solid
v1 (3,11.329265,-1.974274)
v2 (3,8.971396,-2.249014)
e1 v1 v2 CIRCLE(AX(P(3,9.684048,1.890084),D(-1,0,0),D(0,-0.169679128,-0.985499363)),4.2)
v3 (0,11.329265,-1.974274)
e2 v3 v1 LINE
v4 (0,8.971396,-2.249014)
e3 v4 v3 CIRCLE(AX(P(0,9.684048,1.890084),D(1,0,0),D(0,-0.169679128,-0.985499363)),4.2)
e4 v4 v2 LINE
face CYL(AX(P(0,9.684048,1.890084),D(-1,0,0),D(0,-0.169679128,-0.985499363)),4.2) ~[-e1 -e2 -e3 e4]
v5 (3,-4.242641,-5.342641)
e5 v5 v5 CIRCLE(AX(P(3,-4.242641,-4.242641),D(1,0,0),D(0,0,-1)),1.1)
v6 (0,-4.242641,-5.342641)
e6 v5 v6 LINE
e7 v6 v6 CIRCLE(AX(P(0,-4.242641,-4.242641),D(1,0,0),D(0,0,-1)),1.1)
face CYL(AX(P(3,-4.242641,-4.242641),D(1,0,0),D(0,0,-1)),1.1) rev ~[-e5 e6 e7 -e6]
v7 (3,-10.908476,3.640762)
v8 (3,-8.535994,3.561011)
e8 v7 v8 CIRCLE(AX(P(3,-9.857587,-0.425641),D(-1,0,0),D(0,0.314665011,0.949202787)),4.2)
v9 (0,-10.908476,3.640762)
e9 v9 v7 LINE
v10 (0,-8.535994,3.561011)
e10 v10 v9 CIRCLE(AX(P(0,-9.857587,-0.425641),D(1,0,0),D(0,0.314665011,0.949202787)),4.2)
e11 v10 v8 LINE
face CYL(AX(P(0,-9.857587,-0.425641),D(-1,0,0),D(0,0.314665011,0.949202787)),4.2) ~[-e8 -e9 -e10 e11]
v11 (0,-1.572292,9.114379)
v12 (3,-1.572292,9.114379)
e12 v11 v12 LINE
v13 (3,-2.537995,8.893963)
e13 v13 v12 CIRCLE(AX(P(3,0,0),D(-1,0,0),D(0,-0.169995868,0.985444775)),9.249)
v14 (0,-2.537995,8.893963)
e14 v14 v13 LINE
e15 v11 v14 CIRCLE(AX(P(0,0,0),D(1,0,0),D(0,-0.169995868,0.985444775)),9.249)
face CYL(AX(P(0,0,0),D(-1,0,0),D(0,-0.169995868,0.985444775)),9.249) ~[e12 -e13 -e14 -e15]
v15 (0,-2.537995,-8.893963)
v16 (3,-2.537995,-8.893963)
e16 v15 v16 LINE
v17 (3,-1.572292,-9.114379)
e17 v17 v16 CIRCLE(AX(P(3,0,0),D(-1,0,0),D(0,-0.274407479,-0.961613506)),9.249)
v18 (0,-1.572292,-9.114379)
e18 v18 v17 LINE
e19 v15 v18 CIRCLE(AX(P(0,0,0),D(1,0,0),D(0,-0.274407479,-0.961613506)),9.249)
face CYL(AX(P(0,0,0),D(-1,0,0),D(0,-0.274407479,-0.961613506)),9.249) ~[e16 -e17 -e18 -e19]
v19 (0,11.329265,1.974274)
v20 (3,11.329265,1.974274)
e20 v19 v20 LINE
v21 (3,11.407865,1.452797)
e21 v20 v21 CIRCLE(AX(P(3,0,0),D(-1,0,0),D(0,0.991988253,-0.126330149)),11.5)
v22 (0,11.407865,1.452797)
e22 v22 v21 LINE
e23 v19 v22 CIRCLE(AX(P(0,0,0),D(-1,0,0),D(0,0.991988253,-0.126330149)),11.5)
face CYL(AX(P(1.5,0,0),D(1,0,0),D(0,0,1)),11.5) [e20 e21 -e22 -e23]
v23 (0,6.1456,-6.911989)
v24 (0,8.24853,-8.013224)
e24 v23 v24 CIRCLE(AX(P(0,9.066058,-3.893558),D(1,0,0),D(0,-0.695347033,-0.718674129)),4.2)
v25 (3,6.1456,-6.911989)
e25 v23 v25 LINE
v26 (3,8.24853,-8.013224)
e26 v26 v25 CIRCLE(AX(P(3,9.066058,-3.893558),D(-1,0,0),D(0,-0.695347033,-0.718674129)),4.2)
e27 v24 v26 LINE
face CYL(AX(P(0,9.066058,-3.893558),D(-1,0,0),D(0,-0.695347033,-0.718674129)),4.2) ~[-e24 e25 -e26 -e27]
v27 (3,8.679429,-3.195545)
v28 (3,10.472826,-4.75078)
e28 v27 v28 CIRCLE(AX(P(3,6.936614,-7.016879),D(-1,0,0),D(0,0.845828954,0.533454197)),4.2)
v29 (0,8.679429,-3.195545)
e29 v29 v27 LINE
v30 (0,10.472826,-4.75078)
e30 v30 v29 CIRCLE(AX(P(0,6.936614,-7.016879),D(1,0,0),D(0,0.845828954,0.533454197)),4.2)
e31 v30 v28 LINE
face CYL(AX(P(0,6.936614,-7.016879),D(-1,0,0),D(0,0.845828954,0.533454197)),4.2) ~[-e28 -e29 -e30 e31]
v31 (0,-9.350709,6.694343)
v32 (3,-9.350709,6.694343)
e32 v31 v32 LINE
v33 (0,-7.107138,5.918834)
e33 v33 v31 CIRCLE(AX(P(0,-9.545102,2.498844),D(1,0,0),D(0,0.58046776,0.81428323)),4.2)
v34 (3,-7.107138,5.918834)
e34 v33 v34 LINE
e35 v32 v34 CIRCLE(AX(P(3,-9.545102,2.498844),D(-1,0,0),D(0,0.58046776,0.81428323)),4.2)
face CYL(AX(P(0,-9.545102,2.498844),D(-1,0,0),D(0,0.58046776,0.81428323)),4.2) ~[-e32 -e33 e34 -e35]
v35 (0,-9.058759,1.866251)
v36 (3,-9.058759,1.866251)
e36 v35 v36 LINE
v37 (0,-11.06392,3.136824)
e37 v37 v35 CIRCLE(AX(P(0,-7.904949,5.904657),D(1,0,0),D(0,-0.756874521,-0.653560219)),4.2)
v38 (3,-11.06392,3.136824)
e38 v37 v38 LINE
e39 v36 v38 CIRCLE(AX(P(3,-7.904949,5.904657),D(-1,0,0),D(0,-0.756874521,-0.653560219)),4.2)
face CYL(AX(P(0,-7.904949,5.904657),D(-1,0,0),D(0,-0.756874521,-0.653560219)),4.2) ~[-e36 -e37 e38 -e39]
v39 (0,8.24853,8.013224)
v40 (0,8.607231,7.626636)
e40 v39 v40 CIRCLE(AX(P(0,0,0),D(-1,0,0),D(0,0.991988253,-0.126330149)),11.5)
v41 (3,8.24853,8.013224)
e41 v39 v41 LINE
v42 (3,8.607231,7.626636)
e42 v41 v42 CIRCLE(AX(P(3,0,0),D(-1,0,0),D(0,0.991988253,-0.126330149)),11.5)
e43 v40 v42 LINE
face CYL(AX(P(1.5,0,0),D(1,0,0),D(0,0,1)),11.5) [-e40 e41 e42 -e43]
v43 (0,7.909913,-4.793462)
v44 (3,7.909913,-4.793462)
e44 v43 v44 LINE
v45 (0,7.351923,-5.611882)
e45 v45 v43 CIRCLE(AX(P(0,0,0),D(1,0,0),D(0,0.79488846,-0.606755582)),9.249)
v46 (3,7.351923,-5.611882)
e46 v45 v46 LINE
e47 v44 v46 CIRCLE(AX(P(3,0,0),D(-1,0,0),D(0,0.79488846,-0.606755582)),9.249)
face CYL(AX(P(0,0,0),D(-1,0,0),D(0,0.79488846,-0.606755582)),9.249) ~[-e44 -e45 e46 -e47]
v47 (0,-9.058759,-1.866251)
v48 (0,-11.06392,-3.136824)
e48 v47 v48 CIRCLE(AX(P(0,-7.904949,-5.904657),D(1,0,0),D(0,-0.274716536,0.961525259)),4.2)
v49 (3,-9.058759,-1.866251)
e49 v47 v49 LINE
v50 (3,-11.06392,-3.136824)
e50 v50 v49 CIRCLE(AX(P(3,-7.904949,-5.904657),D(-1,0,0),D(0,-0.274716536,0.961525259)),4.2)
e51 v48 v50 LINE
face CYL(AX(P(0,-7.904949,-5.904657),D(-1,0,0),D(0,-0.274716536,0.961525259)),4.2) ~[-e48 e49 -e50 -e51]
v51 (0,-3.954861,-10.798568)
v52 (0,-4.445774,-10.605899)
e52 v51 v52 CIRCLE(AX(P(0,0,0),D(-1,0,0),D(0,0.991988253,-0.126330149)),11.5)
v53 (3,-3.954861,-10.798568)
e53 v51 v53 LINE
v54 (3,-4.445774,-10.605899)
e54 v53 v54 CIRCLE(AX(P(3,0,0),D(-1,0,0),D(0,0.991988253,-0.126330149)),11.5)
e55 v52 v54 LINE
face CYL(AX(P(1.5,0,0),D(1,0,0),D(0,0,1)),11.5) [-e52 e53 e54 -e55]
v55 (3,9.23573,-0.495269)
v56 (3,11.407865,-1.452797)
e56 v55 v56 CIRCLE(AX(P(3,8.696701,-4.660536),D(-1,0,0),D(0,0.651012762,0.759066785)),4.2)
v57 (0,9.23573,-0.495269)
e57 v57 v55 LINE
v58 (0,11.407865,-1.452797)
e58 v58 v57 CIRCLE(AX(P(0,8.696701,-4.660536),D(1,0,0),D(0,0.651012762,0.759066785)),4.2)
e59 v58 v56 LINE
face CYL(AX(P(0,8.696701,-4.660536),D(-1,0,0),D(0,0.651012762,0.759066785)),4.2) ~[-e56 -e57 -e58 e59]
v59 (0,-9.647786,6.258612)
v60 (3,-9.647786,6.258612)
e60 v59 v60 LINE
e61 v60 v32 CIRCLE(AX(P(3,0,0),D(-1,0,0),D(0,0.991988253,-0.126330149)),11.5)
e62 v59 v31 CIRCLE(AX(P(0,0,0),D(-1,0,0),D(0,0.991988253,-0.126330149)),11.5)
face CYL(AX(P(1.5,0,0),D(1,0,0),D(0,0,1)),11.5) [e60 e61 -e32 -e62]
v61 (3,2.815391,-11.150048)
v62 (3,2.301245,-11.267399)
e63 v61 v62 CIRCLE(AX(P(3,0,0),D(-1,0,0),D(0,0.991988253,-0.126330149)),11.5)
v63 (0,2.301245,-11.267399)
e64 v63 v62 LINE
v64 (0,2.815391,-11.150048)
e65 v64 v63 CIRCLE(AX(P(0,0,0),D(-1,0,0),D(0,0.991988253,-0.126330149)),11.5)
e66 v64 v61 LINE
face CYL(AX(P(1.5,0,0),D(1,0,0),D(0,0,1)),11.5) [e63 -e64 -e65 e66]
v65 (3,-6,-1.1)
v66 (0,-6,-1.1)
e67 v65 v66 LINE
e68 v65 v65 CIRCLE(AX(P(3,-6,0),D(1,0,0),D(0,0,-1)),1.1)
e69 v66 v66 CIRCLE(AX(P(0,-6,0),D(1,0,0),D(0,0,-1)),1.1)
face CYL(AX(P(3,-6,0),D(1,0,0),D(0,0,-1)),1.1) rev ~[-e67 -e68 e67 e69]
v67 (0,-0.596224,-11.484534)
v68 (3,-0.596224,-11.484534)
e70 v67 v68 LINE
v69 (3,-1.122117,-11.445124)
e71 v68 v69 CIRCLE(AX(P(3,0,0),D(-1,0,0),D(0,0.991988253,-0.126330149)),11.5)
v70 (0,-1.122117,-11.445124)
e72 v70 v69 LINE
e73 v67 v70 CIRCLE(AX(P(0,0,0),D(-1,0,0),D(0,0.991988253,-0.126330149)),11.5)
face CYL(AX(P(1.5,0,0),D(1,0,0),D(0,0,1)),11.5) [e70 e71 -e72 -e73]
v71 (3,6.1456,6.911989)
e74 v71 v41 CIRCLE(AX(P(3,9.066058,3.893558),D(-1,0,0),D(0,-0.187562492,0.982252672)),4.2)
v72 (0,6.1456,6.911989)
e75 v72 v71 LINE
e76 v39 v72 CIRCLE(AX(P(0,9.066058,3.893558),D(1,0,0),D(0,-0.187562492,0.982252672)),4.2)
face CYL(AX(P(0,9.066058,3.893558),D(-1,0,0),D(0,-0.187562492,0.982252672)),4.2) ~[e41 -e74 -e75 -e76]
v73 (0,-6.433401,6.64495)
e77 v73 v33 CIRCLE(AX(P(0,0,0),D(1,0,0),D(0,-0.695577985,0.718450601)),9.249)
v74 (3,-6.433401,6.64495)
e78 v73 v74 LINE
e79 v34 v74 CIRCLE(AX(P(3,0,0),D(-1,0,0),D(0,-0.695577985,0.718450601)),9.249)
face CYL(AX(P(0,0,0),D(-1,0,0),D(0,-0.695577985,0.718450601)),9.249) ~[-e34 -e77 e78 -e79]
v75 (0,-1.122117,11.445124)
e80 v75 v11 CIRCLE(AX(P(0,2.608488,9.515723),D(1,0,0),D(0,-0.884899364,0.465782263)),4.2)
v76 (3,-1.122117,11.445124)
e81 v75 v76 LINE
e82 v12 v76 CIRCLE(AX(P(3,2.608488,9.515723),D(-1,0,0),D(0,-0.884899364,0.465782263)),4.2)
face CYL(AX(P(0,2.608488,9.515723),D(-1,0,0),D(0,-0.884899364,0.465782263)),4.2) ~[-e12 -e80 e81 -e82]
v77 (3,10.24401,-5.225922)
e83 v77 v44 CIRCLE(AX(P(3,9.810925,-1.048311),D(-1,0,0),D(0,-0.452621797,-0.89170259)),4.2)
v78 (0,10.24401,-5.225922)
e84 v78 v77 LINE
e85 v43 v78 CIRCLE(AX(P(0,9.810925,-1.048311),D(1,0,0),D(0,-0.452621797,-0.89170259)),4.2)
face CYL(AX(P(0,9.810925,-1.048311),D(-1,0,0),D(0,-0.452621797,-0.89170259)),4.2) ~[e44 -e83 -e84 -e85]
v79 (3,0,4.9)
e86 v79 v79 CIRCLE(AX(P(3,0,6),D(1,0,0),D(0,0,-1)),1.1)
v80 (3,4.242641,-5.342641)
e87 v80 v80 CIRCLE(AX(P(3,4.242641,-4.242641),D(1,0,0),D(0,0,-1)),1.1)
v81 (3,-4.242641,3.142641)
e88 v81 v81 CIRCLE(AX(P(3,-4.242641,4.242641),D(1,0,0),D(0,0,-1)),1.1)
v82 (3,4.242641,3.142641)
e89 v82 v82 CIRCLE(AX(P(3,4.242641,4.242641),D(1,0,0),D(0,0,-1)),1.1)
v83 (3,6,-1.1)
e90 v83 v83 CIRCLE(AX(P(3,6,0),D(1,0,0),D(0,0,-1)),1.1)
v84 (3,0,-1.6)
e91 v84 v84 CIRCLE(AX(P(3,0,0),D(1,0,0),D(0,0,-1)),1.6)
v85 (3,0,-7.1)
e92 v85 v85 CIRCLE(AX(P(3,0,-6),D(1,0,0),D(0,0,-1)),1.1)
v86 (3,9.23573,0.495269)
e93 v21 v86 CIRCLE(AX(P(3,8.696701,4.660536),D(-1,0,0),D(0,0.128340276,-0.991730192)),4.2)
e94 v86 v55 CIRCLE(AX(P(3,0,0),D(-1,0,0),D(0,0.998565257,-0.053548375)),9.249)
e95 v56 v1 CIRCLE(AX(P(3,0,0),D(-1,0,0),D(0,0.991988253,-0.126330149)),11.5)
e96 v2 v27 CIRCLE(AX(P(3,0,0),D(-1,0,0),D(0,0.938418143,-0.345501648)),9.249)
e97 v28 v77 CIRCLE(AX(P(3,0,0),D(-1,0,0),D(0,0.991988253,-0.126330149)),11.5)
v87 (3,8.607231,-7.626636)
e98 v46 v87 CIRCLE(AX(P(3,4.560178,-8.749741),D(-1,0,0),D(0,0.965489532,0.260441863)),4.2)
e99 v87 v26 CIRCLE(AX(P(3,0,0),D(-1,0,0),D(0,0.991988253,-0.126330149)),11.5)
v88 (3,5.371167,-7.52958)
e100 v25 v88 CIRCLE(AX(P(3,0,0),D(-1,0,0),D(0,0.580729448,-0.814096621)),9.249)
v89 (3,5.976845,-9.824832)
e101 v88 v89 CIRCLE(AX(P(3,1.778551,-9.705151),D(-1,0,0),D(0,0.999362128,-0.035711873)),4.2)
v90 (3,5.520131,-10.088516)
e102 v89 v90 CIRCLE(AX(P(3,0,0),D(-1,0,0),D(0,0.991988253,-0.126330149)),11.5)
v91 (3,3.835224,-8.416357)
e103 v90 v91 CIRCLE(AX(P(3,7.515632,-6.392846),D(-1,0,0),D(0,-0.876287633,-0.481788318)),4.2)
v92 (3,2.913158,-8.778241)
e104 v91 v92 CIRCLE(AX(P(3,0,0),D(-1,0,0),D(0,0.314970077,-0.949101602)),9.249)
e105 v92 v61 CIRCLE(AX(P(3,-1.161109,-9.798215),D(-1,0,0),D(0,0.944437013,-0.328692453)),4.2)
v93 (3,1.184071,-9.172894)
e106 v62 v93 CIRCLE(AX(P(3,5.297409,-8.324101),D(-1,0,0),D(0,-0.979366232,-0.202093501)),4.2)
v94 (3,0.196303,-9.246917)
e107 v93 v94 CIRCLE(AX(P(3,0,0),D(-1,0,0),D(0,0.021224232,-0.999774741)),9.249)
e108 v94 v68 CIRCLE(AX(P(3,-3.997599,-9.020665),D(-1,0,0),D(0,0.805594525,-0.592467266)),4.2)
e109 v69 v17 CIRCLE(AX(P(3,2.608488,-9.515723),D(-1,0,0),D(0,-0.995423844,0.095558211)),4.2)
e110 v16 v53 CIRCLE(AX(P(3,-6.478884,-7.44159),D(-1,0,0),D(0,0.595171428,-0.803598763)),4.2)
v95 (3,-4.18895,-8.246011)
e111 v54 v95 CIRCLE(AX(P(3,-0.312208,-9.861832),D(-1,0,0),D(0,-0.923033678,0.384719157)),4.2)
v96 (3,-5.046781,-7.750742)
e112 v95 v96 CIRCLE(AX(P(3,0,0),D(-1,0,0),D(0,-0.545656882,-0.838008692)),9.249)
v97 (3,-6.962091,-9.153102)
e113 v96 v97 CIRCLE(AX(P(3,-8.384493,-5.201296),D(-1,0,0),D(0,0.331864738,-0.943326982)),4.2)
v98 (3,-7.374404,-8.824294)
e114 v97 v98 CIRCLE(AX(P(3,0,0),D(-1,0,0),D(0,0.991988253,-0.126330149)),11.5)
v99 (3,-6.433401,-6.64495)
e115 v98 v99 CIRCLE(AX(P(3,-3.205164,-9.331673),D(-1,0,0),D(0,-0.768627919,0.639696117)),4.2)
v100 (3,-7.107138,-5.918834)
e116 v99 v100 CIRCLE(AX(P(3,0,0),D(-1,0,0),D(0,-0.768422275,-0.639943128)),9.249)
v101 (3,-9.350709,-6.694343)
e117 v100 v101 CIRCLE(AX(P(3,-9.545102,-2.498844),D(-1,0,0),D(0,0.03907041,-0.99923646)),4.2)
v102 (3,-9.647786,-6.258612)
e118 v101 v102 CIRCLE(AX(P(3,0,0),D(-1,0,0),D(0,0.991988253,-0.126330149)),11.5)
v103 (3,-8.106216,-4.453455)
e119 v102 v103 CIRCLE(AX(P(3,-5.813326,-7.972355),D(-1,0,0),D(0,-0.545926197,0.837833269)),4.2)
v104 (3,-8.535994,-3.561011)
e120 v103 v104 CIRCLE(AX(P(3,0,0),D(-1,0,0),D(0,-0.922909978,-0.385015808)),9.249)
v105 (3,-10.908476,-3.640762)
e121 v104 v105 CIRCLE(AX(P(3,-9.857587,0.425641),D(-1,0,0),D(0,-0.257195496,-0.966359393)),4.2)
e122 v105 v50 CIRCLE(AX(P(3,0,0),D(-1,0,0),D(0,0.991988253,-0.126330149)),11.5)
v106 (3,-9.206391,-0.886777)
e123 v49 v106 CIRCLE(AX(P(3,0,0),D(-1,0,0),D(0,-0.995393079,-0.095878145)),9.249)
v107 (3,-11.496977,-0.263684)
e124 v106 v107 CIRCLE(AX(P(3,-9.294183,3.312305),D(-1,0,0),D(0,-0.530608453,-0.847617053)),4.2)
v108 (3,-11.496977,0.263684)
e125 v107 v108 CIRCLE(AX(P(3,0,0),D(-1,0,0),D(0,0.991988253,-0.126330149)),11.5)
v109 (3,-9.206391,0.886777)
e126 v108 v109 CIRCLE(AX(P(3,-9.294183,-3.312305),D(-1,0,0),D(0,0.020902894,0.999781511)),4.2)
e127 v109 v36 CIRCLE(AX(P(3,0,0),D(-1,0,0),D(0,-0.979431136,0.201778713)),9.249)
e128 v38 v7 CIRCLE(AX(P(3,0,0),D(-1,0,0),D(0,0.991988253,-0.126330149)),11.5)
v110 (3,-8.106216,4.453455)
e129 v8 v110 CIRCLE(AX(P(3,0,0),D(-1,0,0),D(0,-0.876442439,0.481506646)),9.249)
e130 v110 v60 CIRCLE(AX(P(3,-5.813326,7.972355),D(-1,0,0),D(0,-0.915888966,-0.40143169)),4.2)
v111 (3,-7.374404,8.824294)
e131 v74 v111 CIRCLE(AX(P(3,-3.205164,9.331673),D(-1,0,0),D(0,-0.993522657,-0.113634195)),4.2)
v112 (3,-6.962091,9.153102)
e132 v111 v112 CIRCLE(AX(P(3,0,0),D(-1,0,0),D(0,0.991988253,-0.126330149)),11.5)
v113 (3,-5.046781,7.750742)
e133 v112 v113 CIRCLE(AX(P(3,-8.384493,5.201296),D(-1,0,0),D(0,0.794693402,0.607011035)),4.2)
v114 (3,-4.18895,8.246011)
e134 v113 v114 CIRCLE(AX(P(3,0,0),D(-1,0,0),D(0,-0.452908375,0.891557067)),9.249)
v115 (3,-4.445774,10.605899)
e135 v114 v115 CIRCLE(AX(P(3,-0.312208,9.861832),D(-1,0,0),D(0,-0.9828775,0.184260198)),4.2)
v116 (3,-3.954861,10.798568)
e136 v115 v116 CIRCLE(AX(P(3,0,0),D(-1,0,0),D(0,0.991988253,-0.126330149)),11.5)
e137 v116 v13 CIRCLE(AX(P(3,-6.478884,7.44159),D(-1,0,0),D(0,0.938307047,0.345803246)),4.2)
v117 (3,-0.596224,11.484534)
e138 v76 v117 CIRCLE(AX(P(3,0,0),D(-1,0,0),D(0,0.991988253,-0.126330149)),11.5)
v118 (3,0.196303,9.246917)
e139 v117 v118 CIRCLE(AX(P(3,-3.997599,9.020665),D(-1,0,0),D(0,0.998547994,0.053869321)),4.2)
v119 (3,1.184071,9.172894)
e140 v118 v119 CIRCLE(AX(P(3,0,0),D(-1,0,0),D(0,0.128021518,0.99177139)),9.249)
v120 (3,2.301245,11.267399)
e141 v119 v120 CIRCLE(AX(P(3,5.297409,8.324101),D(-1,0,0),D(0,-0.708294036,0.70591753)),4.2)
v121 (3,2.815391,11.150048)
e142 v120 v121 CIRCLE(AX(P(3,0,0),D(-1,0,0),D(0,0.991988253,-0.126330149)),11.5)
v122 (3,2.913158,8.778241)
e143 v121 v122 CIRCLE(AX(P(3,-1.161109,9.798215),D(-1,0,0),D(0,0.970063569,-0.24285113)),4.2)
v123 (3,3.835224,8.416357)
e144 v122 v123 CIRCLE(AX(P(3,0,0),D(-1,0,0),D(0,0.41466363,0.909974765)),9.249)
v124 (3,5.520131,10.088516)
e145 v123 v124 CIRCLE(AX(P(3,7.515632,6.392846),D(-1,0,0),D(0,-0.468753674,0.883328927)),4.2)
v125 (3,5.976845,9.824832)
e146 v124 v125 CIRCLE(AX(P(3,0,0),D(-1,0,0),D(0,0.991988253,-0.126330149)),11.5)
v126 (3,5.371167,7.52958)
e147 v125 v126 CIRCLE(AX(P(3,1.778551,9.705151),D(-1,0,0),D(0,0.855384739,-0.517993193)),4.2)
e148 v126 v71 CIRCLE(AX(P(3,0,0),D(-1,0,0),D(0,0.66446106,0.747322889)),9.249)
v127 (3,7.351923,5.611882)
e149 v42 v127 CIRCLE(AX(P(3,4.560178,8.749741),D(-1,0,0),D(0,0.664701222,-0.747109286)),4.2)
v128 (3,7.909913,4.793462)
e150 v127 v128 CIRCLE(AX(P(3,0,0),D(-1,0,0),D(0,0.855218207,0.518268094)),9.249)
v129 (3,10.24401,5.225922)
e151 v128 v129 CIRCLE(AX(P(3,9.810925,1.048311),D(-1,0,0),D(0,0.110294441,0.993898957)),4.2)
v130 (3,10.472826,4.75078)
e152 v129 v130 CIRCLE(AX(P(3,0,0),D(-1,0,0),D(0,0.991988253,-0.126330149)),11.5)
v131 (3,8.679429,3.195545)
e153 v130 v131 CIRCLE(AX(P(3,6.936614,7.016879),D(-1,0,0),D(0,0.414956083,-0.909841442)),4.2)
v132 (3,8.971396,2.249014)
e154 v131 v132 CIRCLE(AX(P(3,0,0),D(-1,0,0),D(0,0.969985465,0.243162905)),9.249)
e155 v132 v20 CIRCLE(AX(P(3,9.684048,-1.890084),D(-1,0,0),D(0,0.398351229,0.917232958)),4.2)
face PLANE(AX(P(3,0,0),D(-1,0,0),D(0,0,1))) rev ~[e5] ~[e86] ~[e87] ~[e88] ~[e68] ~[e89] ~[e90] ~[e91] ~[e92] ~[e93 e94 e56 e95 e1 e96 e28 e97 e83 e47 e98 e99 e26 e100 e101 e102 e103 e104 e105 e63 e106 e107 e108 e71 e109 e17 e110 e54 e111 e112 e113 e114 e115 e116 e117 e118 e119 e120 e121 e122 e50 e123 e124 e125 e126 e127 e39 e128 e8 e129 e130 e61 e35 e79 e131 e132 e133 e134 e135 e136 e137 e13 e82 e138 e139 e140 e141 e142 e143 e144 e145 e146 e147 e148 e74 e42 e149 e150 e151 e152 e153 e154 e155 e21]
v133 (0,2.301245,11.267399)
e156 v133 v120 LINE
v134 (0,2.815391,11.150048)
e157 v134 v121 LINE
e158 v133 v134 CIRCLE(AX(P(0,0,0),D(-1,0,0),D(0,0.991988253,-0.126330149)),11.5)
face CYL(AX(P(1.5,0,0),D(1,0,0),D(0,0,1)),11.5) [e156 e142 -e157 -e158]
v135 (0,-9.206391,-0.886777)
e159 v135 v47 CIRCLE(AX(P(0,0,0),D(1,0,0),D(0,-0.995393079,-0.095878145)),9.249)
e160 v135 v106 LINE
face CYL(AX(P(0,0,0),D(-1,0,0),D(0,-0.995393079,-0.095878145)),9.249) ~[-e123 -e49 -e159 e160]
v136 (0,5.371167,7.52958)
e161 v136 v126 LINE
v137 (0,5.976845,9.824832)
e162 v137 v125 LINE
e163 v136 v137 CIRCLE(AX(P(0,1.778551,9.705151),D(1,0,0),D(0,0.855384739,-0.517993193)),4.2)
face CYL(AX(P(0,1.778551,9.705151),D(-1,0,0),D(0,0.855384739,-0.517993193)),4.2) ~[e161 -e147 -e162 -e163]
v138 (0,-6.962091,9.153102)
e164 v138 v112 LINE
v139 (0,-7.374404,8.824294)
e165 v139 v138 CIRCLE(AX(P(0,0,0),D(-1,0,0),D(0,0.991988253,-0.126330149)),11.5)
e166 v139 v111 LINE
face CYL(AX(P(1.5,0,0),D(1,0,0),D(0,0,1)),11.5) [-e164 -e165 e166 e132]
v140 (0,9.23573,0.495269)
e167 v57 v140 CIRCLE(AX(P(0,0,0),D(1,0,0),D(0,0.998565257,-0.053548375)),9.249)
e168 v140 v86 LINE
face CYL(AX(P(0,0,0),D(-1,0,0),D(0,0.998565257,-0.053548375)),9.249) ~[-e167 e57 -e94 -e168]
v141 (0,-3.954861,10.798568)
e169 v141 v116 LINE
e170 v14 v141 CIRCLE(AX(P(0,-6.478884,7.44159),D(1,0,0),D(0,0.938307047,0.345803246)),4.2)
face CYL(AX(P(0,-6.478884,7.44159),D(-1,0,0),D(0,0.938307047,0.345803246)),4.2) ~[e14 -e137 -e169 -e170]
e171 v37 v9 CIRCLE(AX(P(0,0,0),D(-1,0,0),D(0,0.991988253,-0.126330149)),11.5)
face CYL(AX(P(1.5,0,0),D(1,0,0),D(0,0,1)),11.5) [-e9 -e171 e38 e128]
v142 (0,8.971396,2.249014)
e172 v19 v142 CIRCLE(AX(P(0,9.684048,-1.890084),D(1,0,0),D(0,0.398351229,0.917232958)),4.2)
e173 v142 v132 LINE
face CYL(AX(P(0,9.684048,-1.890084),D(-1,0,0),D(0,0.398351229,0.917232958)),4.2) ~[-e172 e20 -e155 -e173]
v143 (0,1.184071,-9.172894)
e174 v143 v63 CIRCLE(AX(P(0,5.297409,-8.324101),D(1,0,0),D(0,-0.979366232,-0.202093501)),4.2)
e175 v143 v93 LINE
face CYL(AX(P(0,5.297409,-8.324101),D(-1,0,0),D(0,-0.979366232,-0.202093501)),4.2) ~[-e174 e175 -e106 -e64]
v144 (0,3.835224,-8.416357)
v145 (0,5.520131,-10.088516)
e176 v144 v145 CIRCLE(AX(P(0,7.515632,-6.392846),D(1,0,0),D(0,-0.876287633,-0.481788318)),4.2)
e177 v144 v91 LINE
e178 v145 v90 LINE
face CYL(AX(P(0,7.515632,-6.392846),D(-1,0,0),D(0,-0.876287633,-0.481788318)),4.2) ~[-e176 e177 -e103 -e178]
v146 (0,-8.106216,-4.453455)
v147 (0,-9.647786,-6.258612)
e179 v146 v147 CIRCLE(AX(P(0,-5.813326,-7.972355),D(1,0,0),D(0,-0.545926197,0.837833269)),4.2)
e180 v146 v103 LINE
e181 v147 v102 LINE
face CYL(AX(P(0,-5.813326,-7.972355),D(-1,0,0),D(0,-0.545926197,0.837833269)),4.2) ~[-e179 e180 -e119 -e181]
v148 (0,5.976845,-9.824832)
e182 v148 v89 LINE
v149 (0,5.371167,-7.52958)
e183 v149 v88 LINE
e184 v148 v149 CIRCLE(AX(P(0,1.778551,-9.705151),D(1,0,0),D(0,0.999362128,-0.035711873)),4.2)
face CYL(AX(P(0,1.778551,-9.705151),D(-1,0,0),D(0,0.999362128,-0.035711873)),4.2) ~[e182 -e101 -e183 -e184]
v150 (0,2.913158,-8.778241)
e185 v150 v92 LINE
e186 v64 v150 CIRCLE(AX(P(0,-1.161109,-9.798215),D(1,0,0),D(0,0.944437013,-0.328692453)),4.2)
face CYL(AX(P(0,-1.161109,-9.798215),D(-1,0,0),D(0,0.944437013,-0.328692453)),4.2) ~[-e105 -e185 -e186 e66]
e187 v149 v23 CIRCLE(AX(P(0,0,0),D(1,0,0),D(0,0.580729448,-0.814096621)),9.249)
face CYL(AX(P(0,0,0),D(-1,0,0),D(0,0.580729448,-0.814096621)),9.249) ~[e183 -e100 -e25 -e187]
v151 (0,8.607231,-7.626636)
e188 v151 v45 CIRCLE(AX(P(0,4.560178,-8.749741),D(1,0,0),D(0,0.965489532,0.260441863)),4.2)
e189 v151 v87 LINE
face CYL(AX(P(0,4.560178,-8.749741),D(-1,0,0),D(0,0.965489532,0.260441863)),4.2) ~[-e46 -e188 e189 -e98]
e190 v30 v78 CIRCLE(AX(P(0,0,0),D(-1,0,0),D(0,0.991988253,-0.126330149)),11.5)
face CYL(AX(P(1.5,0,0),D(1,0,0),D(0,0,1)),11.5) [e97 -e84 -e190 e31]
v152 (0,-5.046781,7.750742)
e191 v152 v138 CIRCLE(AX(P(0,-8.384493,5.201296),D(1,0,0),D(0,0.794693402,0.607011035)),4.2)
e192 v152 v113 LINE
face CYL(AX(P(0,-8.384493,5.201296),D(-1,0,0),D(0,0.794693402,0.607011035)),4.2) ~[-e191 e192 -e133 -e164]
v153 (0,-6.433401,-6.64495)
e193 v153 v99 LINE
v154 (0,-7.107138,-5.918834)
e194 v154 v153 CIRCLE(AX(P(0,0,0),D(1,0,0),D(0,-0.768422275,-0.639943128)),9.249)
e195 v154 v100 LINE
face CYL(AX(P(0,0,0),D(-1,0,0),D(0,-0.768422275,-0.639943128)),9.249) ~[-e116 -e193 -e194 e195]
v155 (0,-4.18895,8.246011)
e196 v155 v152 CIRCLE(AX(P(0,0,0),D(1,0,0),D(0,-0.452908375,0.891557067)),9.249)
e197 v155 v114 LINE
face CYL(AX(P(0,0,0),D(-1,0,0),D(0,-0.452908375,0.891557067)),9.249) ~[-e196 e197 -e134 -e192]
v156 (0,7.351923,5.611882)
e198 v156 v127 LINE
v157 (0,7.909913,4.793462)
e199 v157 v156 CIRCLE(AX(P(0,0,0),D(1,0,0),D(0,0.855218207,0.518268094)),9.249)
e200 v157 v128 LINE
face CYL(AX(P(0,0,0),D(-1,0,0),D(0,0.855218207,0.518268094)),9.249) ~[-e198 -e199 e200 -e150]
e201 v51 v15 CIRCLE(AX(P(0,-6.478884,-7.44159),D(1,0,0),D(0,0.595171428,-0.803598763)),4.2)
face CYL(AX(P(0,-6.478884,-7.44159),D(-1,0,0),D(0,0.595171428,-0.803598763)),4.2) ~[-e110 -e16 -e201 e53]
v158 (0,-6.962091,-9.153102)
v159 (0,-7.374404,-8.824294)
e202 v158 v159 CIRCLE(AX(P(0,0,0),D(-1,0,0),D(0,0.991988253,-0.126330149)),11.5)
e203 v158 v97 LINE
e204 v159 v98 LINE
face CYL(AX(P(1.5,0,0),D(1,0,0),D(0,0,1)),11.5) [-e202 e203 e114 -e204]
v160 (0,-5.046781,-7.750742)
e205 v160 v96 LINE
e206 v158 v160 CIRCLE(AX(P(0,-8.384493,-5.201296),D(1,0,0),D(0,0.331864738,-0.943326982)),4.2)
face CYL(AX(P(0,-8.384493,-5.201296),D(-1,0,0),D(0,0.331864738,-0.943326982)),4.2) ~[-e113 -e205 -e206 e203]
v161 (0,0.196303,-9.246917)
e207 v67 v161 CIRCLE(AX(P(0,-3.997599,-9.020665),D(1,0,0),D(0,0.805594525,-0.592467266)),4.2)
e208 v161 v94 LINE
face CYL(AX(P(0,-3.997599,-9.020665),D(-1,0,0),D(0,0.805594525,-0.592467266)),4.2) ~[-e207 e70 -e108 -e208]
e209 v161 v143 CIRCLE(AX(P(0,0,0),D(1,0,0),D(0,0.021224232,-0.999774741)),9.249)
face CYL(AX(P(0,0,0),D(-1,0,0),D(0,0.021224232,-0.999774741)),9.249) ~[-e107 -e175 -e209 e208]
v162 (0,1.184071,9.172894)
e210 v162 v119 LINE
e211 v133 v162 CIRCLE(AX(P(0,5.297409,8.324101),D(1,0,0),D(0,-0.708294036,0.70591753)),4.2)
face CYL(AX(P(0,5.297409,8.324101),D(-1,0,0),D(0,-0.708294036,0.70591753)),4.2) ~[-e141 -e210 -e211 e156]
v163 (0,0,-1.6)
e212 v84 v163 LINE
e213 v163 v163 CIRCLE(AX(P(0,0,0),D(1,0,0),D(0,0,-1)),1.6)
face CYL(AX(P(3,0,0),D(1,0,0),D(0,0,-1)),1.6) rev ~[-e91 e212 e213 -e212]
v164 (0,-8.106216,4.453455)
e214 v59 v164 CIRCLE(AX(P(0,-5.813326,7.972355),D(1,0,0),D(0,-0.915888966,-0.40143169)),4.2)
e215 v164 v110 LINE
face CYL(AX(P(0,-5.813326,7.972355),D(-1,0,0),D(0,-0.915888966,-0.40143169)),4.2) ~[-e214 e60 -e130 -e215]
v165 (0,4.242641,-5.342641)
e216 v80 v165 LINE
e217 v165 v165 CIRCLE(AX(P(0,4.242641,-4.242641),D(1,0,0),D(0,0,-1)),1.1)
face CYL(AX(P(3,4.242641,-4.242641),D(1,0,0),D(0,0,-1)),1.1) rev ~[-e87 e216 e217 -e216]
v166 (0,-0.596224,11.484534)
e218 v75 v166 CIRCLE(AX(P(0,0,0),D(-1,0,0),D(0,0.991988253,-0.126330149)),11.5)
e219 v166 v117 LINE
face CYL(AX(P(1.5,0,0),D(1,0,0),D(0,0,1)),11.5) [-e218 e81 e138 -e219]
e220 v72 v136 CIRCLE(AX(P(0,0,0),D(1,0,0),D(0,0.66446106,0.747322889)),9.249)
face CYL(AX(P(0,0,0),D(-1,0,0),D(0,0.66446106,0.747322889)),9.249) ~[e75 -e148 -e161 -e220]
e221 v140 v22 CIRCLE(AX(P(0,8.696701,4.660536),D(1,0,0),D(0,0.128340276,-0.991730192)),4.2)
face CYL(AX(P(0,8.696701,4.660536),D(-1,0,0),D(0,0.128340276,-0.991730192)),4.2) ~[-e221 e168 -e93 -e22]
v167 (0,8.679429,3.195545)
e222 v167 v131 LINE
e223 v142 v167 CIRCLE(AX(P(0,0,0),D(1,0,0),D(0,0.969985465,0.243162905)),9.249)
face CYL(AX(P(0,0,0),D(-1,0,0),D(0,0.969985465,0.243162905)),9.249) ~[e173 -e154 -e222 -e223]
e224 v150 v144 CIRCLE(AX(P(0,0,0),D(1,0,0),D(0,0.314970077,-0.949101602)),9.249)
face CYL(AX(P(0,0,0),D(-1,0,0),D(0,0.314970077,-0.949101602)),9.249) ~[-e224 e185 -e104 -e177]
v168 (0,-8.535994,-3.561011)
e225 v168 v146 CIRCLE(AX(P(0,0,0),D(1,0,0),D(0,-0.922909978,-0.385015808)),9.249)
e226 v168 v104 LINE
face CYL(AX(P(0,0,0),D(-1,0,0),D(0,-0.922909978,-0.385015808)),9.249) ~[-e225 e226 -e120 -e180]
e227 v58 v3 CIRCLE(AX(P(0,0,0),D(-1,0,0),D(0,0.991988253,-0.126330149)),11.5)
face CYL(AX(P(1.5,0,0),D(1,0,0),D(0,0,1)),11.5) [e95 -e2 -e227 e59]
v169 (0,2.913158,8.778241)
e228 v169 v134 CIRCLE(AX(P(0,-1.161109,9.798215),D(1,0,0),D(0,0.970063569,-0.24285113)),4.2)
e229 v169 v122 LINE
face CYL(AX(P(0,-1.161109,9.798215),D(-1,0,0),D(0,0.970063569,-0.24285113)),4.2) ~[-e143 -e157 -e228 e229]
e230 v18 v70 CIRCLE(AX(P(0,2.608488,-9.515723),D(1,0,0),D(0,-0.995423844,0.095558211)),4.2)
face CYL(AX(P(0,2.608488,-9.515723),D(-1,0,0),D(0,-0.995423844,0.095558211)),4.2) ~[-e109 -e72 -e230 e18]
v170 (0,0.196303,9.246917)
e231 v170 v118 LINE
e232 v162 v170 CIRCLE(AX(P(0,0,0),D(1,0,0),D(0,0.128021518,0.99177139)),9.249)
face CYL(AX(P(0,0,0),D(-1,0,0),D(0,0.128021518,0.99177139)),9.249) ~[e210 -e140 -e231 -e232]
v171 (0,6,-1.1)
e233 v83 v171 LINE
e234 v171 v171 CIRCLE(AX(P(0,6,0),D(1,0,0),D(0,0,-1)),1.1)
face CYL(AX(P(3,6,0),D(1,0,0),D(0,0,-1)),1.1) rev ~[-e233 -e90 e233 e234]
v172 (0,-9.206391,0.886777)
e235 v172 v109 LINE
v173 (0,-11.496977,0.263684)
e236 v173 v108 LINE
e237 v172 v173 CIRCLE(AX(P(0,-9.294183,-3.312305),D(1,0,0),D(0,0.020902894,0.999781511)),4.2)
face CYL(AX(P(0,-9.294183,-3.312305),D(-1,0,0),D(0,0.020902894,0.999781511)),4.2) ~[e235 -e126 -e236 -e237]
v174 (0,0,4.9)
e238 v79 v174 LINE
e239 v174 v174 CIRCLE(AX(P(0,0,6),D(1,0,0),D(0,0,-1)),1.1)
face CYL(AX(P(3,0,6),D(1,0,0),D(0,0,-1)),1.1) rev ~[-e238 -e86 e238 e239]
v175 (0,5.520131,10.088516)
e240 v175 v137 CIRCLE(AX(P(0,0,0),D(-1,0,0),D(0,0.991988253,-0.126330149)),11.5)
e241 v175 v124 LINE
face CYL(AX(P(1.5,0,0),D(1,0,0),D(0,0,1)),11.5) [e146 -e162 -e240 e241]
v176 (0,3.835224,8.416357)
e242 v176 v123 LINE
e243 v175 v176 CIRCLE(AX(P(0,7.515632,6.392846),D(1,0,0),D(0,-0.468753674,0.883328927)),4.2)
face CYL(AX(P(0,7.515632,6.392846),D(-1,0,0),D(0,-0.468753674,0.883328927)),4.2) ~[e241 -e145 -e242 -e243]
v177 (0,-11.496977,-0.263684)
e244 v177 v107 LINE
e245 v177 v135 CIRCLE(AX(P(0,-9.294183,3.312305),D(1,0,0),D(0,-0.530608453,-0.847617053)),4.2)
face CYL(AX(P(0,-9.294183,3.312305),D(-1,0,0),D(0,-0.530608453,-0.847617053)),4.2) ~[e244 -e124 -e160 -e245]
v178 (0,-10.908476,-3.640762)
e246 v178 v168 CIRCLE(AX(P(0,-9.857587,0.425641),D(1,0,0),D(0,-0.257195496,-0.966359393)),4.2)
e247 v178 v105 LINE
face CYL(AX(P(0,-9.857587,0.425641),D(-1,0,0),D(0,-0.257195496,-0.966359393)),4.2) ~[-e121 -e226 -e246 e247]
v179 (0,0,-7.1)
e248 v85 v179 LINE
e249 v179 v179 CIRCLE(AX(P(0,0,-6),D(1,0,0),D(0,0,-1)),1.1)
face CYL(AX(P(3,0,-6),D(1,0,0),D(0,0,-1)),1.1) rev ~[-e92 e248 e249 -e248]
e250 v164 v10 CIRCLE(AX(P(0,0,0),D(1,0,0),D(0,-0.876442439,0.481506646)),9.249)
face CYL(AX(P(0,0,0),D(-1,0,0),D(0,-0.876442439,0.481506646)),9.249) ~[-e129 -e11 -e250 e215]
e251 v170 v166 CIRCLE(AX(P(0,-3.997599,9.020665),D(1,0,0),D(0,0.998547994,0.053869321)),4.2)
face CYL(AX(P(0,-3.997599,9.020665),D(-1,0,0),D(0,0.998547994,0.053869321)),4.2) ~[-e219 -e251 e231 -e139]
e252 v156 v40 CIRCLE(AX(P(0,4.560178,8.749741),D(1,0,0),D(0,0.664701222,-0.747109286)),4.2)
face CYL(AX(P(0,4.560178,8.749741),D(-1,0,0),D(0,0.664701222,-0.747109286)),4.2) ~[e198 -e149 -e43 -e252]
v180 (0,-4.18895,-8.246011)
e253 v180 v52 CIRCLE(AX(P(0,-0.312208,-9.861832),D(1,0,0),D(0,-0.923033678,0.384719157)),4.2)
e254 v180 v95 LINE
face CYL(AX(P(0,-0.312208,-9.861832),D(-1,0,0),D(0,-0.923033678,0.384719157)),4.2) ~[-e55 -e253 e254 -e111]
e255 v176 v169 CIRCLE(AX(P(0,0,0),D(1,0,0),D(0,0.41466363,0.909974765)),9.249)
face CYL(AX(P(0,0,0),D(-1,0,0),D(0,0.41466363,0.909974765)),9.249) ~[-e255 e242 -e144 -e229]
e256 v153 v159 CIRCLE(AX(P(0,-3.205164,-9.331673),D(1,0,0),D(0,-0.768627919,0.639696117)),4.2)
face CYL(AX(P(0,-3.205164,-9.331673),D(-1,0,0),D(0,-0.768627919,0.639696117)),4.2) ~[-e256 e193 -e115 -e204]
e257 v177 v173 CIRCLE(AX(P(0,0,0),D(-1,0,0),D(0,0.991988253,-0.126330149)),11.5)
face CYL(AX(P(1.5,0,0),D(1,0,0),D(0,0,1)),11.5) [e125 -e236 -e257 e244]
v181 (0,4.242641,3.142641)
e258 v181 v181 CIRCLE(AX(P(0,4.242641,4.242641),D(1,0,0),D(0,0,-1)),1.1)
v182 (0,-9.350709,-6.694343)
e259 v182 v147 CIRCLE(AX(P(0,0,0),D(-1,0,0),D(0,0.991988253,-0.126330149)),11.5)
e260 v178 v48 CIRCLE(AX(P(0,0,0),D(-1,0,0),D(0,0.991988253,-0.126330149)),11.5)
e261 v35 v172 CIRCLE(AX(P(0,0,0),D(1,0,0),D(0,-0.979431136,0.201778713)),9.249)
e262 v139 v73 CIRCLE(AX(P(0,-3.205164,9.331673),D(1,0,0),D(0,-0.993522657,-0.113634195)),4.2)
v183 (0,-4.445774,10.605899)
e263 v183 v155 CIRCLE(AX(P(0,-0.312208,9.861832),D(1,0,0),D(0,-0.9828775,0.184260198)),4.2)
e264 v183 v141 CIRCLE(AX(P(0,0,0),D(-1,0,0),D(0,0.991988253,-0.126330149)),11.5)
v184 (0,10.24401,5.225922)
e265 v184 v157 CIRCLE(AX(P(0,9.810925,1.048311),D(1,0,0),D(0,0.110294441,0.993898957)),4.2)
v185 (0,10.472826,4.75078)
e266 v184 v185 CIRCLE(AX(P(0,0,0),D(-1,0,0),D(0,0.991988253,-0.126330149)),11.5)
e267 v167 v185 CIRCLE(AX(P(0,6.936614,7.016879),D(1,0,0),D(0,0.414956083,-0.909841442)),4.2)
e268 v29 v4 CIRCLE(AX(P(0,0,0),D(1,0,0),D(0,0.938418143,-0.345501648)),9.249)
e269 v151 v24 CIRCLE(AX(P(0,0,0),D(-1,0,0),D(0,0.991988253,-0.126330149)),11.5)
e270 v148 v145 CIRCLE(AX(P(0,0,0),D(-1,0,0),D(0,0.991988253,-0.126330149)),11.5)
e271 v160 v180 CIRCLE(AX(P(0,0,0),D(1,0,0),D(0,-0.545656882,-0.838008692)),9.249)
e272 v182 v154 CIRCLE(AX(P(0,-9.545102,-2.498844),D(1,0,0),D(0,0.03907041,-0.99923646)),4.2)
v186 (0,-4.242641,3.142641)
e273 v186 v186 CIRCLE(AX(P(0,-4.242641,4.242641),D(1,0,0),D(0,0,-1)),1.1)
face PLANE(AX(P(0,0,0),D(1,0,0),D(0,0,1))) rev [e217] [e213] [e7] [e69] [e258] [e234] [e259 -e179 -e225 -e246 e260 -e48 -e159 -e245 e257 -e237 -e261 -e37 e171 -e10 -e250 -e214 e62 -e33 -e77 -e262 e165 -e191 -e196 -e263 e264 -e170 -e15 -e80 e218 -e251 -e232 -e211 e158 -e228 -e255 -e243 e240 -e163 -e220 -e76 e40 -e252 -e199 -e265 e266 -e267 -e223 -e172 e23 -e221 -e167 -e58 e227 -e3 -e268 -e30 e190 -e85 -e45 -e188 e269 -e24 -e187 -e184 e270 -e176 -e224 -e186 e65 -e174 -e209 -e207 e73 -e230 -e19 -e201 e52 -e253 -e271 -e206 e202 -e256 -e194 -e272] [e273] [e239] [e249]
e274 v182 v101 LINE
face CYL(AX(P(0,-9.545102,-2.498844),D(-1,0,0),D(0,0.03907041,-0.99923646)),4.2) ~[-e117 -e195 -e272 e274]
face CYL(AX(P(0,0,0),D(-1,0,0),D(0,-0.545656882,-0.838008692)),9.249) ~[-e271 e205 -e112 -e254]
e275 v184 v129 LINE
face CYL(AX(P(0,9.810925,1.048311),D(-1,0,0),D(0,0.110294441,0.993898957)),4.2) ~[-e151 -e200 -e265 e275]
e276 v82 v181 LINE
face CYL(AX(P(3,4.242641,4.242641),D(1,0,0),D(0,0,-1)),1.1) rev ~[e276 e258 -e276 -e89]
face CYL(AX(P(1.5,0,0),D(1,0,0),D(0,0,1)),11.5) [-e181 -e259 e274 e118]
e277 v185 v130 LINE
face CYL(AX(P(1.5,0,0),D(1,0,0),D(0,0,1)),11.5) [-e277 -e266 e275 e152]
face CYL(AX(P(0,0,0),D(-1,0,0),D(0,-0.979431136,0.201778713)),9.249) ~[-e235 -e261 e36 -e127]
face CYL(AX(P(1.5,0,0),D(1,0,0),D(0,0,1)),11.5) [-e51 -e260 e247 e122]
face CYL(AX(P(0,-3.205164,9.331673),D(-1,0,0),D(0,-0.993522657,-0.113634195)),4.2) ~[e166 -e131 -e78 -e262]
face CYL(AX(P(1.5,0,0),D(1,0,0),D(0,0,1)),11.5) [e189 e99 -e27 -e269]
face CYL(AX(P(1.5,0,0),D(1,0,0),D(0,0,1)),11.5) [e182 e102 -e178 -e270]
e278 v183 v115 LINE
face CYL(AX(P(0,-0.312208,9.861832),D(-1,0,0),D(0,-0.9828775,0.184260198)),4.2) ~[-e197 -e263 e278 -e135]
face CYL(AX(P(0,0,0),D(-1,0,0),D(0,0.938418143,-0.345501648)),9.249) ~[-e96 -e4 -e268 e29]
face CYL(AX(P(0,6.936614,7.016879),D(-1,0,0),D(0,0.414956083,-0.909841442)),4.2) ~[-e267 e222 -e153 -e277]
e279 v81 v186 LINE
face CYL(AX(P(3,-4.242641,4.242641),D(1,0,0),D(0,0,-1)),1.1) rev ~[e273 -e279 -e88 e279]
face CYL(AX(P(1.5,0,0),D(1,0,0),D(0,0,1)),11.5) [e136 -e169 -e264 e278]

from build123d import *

# Parameters (mm, degrees)
BASPROSKE_W         = 3
BASPROSKE_H         = 11.5
TOOTHCUT_DEPTH      = 17.537835409
TEETHCUTS_COUNT     = 21
TEETHCUTS_ANGLE     = 342.857142857
BORSKE_R            = 4
BORE_DEPTH          = 50.0000508
EXTRUDE_START       = -3
SKETCH_1_R          = 4
EXTRUDE_1_DEPTH     = 3
SKETCH_2_R          = 1.6
SKETCH_2_R_2        = 1.1
CUT_EXTRUDE_1_DEPTH = 17.52708436


with BuildPart() as part:
    # BasProSke → Base-Revolve (revolve)
    with BuildSketch(Plane(origin=(0, 0, 0), x_dir=(1, 0, 0), z_dir=(0, 1, 0)), mode=Mode.PRIVATE) as base_revolve_sk:
        with Locations((1.5, 5.75)):
            Rectangle(BASPROSKE_W, BASPROSKE_H)
    revolve(base_revolve_sk.sketch.rotate(Axis((-10, 0, 0), (1, 0, 0)), 180), axis=Axis((-10, 0, 0), (1, 0, 0)))

    # TooCutSke → ToothCut (cut, through all)
    with BuildSketch(Plane(origin=(0, 0, 0), x_dir=(0, 0, -1), z_dir=(1, 0, 0))):
        with BuildLine():
            ThreePointArc((0.49526894, 9.235730057), (0, 9.249), (-0.49526894, 9.235730057))
            ThreePointArc((-0.49526894, 9.235730057), (-0.823521057, 10.404716786), (-1.472455249, 11.430954496))
            ThreePointArc((-1.472455249, 11.430954496), (0, 11.5254), (1.472455249, 11.430954496))
            ThreePointArc((1.472455249, 11.430954496), (0.823521057, 10.404716786), (0.49526894, 9.235730057))
        make_face()
    toothcut = extrude(amount=TOOTHCUT_DEPTH, mode=Mode.SUBTRACT)

    # TeethCuts: ToothCut ×21 about axis
    teethcuts_axis = Axis((-10, 0, 0), (1, 0, 0))
    for i in range(1, TEETHCUTS_COUNT):
        add(toothcut.rotate(teethcuts_axis, i * TEETHCUTS_ANGLE / (TEETHCUTS_COUNT - 1)), mode=Mode.SUBTRACT)

    # BorSke → Bore (cut, symmetric)
    with BuildSketch(Plane(origin=(0, 0, 0), x_dir=(0, 0, -1), z_dir=(1, 0, 0))):
        with Locations(Location((0, 0, 0), (0, 0, 180))):
            Circle(BORSKE_R)
    extrude(amount=BORE_DEPTH, both=True, mode=Mode.SUBTRACT)

    # ｽｹｯﾁ1 → ﾎﾞｽ - 押し出し1 (add)
    with BuildSketch(Plane.ZY.offset(EXTRUDE_START)):
        Circle(SKETCH_1_R)
    extrude(amount=EXTRUDE_1_DEPTH)

    # ｽｹｯﾁ2 → ｶｯﾄ - 押し出し1 (cut, through all)
    with BuildSketch(Plane(origin=(3, 0, 0), x_dir=(0, 0, -1), z_dir=(1, 0, 0))):
        Circle(SKETCH_2_R)
        with Locations((6, 0)):
            Circle(SKETCH_2_R_2)
        with Locations((4.242640687, -4.242640687)):
            Circle(SKETCH_2_R_2)
        with Locations((0, -6)):
            Circle(SKETCH_2_R_2)
        with Locations((-4.242640687, -4.242640687)):
            Circle(SKETCH_2_R_2)
        with Locations((-6, 0)):
            Circle(SKETCH_2_R_2)
        with Locations((-4.242640687, 4.242640687)):
            Circle(SKETCH_2_R_2)
        with Locations((0, 6)):
            Circle(SKETCH_2_R_2)
        with Locations((4.242640687, 4.242640687)):
            Circle(SKETCH_2_R_2)
    extrude(amount=-CUT_EXTRUDE_1_DEPTH, mode=Mode.SUBTRACT)


solid = part.part
